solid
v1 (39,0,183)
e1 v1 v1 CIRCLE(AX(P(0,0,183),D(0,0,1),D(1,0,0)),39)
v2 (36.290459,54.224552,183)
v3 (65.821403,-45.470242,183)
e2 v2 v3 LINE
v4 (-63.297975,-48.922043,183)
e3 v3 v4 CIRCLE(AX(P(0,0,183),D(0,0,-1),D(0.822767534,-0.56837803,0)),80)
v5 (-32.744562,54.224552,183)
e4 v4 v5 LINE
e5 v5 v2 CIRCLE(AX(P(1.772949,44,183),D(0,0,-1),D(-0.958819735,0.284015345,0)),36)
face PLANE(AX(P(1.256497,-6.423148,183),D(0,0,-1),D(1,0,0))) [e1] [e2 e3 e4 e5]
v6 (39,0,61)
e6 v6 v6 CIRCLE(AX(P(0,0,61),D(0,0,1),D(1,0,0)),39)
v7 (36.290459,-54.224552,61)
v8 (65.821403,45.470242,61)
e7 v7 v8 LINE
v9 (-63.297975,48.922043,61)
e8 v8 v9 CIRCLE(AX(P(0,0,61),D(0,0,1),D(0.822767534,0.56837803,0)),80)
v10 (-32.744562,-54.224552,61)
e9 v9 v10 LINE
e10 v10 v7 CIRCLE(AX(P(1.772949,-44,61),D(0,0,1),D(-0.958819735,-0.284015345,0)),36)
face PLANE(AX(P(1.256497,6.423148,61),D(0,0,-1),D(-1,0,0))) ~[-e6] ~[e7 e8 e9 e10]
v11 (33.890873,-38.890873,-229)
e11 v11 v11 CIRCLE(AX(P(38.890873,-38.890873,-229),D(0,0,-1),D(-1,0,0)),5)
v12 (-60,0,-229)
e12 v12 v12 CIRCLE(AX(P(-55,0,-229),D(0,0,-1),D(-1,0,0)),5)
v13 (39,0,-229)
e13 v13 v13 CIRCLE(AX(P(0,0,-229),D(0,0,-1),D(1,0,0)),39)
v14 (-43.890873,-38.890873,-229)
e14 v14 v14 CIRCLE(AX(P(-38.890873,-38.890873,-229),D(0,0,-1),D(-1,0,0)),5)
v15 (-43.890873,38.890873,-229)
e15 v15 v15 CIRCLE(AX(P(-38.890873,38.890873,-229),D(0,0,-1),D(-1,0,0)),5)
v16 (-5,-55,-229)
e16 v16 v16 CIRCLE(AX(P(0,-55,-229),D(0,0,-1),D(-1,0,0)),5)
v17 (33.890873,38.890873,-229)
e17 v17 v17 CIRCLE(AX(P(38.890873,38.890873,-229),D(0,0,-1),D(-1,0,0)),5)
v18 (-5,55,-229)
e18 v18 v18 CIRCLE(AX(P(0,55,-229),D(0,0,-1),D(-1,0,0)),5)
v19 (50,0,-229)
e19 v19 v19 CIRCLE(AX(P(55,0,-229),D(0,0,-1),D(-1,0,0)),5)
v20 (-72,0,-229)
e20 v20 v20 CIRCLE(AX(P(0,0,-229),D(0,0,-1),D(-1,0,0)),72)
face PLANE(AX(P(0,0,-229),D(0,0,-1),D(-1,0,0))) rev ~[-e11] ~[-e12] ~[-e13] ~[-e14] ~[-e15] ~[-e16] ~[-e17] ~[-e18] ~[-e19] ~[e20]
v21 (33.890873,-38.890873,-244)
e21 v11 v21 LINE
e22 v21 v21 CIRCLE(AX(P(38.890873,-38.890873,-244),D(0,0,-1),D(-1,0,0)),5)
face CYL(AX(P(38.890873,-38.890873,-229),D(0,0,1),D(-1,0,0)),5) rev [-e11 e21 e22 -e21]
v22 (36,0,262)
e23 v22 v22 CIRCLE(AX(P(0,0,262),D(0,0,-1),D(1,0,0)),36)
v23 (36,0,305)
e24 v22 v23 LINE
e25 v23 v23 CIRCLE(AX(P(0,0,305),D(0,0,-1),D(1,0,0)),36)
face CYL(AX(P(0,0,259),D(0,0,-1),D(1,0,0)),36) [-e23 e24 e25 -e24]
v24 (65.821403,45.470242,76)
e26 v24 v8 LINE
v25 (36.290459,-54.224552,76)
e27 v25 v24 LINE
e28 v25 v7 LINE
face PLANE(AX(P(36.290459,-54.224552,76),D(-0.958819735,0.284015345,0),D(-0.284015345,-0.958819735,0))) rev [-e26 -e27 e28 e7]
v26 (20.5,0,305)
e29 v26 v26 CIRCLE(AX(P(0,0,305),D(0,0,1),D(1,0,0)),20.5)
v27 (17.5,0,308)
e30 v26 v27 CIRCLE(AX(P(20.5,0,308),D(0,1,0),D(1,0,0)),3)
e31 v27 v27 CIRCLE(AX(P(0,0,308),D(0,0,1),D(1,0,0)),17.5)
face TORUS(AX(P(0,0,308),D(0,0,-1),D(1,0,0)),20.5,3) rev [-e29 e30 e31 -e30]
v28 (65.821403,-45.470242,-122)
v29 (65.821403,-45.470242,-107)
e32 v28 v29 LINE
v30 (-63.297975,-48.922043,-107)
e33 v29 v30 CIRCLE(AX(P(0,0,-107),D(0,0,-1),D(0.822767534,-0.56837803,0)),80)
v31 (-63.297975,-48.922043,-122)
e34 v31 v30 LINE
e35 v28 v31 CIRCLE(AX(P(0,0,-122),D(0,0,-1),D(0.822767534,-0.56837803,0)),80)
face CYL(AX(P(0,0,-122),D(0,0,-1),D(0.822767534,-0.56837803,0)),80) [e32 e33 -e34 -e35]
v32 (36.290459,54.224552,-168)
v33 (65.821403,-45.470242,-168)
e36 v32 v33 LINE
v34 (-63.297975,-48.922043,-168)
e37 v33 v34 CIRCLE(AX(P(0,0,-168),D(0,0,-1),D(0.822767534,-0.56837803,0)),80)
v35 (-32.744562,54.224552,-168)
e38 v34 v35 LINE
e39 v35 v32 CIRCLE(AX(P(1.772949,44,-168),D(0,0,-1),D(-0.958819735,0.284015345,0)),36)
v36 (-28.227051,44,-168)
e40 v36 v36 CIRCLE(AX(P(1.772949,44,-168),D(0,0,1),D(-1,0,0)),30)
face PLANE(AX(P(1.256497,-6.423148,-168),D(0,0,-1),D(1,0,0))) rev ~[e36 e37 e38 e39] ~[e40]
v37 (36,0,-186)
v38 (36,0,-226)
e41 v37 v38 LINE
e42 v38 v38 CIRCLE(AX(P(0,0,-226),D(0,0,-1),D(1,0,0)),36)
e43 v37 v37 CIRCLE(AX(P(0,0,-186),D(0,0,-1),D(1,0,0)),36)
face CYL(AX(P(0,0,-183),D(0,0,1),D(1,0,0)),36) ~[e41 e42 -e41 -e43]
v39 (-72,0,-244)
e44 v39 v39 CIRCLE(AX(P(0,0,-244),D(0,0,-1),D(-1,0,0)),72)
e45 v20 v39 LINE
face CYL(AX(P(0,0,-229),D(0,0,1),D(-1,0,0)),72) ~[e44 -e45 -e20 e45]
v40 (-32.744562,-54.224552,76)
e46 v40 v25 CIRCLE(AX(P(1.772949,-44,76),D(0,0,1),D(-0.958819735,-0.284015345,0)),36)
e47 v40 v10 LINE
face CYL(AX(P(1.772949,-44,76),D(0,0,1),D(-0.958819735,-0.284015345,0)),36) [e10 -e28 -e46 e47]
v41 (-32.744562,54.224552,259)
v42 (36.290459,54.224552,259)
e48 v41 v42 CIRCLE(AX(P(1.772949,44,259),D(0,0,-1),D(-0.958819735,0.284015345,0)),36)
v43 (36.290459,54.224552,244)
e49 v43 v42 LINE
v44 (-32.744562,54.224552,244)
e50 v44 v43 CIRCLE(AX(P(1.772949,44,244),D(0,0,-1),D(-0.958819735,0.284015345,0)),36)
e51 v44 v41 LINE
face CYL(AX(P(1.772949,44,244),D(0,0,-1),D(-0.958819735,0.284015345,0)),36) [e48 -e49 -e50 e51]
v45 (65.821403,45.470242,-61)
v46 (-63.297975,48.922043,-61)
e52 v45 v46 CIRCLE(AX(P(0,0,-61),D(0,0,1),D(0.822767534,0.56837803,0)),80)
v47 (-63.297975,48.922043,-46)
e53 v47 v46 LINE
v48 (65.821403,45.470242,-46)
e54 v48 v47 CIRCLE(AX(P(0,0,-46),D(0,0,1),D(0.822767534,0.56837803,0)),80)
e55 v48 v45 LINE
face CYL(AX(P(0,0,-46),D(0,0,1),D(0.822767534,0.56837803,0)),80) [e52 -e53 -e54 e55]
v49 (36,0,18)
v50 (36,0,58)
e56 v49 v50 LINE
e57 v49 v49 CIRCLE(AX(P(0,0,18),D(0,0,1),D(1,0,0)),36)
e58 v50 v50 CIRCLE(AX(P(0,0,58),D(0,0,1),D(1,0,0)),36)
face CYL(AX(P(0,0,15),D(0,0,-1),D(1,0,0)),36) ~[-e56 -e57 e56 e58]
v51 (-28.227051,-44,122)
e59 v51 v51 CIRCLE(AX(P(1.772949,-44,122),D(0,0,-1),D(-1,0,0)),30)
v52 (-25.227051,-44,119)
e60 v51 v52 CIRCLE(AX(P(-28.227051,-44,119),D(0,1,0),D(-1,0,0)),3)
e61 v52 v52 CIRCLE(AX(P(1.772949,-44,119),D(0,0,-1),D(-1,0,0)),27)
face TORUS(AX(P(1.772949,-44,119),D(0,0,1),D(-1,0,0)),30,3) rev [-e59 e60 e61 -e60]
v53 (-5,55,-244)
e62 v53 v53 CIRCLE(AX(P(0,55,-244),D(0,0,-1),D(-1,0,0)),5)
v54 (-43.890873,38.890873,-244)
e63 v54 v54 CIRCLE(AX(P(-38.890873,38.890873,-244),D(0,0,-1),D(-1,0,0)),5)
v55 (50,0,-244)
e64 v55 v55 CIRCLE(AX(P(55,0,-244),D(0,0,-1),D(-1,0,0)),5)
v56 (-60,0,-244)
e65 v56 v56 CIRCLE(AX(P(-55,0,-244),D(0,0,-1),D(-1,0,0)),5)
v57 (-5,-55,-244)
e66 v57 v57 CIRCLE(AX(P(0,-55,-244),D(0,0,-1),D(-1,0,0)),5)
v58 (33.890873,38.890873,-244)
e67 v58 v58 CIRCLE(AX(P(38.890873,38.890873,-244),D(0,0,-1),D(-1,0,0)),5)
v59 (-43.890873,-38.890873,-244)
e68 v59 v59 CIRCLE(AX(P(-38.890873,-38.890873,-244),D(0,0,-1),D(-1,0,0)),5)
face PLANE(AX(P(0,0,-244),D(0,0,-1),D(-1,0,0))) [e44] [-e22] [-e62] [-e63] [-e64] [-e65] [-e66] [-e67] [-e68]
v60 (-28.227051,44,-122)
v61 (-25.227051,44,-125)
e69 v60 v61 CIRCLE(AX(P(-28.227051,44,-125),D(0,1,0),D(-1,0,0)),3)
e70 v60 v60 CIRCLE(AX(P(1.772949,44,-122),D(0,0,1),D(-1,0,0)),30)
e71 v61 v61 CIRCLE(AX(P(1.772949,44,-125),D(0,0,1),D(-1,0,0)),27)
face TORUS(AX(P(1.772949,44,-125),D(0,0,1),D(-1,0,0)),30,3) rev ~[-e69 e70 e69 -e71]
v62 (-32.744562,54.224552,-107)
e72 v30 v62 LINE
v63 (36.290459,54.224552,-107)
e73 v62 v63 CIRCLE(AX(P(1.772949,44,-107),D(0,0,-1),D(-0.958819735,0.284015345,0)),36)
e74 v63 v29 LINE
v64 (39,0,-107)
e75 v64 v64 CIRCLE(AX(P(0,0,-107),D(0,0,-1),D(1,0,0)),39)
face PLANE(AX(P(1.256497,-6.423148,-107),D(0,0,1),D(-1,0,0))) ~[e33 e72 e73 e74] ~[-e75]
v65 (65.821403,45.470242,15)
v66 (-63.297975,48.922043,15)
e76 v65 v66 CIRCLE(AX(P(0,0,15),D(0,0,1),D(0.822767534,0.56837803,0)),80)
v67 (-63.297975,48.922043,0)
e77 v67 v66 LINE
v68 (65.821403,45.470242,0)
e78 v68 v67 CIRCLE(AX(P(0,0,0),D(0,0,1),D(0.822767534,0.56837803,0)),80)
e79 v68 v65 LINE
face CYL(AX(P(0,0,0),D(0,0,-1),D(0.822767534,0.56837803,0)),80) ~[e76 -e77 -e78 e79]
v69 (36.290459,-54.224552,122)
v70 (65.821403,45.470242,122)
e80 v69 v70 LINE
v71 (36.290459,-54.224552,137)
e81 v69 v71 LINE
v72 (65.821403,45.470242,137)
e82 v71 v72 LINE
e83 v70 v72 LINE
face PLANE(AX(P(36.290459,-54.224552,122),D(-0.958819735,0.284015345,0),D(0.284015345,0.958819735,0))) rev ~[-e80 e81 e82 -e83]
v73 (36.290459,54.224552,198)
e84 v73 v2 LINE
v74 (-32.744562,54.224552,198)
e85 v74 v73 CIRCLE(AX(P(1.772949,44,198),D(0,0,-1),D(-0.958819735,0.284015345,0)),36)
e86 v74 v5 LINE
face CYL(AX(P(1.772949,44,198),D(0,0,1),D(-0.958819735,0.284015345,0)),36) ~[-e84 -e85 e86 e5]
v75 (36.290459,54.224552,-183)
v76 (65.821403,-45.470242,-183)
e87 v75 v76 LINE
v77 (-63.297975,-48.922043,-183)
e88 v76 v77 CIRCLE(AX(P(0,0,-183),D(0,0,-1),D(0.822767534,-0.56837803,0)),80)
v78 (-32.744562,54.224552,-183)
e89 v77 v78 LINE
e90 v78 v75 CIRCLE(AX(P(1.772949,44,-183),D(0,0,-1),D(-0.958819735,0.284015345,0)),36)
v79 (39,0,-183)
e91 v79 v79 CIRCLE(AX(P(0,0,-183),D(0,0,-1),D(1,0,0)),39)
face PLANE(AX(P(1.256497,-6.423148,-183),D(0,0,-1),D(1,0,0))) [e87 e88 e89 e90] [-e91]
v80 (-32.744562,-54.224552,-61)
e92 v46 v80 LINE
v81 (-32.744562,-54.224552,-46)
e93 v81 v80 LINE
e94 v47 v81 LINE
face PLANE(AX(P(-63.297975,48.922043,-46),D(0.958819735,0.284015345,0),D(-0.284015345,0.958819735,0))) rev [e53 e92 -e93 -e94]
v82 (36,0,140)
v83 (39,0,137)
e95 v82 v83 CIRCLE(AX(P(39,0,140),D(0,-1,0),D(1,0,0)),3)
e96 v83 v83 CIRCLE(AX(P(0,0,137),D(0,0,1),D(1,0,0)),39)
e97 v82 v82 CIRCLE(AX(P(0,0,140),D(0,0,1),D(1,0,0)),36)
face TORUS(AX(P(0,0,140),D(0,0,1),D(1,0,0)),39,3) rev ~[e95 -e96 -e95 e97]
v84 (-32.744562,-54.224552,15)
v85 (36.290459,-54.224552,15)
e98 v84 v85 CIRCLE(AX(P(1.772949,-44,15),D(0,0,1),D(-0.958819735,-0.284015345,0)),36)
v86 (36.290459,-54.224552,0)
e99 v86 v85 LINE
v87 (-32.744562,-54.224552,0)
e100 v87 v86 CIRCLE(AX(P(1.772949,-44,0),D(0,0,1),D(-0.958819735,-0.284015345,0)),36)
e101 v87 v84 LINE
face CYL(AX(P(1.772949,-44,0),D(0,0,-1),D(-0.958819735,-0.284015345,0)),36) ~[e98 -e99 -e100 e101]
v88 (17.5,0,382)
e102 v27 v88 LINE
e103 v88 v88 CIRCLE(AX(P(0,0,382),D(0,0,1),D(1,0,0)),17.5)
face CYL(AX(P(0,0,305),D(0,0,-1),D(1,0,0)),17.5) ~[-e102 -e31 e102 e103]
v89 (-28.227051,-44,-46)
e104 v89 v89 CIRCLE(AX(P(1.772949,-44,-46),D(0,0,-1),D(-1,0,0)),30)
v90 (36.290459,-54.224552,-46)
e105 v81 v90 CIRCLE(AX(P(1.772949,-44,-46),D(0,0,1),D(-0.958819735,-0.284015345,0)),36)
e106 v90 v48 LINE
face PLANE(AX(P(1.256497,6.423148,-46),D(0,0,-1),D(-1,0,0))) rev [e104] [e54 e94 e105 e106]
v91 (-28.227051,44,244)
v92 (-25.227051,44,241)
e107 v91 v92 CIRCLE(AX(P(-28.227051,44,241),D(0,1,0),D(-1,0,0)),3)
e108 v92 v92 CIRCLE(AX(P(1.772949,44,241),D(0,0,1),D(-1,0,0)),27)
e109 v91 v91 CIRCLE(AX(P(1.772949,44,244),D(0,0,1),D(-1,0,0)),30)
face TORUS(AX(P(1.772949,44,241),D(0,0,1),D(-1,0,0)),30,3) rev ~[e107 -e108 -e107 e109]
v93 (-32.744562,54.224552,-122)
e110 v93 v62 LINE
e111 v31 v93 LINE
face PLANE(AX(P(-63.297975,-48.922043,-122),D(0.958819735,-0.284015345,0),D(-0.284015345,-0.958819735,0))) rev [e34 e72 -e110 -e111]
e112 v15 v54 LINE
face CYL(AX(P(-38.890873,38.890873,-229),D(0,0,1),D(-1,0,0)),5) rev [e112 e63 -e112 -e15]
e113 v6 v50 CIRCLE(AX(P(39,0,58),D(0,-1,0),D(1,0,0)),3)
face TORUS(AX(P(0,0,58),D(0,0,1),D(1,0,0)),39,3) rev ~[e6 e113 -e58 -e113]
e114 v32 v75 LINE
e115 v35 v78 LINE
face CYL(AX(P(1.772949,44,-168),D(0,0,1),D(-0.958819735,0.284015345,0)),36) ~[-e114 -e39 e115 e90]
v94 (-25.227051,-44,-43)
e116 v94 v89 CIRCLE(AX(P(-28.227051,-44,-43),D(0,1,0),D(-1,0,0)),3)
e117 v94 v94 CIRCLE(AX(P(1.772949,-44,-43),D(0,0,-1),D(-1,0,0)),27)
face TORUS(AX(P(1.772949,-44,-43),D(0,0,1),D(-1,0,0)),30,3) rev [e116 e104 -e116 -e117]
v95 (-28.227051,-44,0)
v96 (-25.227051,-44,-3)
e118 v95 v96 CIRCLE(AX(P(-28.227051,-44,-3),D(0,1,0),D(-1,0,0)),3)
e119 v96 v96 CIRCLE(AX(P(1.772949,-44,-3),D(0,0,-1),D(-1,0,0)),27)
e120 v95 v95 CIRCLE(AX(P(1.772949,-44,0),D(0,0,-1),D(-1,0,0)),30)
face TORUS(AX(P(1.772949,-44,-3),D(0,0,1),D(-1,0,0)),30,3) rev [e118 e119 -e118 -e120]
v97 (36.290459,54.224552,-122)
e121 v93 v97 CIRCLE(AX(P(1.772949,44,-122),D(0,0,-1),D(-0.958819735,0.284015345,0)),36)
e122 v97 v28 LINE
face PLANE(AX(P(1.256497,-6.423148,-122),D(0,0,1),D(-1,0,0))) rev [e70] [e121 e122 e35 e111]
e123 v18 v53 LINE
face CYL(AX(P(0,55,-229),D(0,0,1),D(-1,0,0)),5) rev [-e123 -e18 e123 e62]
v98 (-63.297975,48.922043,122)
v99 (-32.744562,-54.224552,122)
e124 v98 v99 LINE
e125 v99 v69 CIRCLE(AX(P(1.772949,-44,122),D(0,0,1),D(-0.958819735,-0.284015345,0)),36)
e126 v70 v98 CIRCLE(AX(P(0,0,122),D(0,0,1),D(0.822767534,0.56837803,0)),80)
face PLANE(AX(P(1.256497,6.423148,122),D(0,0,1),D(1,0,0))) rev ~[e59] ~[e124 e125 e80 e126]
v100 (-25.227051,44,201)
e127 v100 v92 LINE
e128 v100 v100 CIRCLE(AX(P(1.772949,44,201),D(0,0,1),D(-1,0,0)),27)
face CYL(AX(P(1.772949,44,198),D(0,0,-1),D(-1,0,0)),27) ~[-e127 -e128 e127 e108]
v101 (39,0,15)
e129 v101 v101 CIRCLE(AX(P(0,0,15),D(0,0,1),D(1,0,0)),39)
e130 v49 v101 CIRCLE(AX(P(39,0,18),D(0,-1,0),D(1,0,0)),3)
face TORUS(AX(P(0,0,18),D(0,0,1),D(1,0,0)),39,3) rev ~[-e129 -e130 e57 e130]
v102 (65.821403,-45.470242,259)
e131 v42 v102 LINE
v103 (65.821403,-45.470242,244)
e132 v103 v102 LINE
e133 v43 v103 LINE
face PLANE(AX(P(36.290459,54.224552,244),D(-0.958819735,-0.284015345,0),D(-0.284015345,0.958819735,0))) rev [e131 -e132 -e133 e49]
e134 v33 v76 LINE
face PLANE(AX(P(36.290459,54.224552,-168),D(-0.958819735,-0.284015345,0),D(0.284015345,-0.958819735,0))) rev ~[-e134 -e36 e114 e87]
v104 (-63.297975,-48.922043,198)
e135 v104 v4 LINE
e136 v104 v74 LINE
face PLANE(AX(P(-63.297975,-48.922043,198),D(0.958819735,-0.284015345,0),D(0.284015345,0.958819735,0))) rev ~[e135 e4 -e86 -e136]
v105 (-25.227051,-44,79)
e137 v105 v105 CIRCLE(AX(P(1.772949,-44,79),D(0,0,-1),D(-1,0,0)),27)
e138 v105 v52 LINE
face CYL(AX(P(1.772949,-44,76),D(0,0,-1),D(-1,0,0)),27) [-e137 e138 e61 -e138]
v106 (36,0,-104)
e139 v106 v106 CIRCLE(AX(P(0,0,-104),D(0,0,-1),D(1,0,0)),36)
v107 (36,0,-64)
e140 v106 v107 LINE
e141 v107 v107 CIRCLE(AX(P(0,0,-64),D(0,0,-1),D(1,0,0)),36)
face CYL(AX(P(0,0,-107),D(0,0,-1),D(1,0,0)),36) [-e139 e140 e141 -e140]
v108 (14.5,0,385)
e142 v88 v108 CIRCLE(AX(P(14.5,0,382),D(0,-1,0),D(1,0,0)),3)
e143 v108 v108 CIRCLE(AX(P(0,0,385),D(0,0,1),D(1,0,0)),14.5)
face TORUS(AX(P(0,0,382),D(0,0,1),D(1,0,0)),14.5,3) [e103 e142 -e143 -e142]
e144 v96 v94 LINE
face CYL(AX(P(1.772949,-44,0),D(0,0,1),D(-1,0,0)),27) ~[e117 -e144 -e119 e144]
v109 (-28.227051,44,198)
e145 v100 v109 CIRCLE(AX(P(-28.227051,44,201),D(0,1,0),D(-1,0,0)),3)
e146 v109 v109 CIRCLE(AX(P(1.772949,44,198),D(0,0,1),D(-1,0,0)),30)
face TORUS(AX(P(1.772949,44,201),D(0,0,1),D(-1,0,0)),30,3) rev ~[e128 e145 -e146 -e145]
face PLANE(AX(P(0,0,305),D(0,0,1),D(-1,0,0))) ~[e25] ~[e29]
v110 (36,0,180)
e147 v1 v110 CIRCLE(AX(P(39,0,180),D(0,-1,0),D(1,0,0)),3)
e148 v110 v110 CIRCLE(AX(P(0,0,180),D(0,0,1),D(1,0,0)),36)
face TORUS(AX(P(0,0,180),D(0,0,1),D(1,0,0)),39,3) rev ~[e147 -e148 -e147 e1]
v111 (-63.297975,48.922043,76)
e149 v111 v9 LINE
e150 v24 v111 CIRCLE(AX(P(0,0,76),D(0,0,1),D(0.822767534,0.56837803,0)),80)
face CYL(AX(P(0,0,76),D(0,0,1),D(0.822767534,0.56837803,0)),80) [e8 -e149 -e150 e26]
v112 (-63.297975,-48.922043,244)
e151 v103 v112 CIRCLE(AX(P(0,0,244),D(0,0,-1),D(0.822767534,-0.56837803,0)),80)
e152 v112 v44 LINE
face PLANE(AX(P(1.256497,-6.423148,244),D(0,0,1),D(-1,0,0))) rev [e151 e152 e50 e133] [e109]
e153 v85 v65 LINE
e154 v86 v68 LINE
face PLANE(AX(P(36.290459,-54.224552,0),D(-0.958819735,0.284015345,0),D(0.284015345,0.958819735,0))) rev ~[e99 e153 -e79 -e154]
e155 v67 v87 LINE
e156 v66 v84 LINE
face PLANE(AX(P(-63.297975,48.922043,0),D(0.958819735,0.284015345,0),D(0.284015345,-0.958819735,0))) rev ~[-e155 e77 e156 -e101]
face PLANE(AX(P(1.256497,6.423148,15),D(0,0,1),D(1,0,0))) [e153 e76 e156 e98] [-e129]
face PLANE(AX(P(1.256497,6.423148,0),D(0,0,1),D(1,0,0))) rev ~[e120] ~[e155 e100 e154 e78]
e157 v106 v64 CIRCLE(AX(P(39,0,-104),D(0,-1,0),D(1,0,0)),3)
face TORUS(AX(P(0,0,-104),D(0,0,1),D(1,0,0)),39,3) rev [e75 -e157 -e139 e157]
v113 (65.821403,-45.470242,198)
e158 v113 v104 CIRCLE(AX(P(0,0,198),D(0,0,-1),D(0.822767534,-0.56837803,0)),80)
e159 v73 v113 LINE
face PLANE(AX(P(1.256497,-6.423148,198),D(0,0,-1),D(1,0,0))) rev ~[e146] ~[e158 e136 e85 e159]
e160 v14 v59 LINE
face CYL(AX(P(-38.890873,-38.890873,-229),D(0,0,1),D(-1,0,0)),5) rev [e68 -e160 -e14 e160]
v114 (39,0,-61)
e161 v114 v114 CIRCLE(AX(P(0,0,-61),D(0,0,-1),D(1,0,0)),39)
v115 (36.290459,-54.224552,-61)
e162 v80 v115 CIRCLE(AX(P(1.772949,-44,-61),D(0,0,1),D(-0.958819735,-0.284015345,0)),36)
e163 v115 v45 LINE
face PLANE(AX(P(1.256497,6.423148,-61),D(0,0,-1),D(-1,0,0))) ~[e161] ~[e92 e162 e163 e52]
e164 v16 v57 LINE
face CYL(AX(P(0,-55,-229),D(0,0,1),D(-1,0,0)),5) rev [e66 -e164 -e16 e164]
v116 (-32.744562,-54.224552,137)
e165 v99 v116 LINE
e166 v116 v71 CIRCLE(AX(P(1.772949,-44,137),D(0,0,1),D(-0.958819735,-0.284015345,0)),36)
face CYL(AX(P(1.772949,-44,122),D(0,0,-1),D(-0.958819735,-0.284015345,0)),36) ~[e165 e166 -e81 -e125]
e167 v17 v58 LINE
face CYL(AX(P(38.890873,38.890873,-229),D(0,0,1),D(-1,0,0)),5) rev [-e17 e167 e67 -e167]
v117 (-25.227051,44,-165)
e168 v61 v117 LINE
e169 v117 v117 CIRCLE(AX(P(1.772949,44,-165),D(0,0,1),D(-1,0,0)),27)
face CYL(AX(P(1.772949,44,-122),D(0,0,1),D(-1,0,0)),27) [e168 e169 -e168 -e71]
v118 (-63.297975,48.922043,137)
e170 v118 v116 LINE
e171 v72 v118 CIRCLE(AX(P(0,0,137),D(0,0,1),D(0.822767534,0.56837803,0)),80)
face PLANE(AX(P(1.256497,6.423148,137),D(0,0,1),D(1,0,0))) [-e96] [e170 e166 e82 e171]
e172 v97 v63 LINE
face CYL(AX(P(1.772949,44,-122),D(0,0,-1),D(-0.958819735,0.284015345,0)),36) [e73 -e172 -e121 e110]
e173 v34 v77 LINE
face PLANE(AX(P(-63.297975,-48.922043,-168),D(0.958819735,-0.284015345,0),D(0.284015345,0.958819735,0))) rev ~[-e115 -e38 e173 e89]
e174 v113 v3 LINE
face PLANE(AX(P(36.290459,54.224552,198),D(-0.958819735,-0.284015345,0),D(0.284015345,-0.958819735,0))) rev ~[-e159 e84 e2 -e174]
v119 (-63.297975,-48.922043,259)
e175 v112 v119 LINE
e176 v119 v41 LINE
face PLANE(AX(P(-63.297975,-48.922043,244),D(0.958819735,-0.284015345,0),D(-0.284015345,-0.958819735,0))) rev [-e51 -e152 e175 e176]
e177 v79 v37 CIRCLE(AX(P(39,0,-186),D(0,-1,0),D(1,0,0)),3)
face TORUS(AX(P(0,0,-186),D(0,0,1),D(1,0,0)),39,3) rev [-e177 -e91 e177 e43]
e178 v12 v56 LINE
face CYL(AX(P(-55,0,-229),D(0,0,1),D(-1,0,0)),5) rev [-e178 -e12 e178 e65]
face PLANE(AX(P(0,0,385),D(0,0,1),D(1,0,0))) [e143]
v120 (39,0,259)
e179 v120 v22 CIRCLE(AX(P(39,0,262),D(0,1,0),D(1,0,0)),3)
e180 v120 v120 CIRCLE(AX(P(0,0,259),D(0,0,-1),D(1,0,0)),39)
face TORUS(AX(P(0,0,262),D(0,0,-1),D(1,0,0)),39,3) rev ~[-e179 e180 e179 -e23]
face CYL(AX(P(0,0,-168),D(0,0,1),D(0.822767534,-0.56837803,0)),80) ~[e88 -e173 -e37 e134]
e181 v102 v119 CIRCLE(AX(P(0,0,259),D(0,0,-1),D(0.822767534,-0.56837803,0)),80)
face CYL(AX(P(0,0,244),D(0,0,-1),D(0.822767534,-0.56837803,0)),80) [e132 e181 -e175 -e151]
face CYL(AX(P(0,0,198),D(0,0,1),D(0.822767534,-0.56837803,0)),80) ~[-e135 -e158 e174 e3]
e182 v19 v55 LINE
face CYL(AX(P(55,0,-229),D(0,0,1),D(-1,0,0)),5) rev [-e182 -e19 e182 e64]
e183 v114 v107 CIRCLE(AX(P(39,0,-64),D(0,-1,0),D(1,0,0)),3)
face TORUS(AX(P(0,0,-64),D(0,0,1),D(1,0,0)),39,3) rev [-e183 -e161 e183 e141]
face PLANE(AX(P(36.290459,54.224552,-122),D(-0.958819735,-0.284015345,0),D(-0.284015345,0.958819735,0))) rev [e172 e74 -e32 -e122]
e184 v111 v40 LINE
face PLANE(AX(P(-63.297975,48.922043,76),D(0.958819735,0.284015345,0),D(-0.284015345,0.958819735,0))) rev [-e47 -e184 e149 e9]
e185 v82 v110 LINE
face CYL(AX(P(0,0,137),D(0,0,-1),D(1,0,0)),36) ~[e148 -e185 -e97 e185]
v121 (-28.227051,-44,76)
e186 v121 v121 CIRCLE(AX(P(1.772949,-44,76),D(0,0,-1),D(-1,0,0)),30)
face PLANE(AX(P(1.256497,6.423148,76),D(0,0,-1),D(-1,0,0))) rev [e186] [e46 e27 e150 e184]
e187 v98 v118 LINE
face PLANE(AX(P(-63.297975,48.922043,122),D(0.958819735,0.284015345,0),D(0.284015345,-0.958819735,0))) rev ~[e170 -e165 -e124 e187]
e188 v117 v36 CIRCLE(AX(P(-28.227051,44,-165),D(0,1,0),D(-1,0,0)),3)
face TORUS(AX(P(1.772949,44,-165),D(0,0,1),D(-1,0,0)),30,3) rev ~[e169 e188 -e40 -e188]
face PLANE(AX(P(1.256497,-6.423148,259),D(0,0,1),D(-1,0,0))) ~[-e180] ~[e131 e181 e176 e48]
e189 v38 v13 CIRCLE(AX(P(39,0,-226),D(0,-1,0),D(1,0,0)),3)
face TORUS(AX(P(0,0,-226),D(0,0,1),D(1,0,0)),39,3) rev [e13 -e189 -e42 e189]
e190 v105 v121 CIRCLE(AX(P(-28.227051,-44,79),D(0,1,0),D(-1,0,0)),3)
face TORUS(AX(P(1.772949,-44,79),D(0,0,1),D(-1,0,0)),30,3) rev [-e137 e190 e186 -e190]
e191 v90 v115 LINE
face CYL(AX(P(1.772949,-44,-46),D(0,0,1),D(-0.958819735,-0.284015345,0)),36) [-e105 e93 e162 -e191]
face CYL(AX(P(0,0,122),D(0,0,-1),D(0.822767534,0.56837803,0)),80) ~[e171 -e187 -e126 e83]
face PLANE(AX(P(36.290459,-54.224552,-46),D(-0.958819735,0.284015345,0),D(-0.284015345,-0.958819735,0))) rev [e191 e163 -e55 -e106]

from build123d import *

# Parameters (mm, degrees)
BOSS_EXTRUDE1_DEPTH   = 15
SKETCH3_R             = 27
BOSS_EXTRUDE2_DEPTH   = 46
SKETCH5_R             = 36
BOSS_EXTRUDE3_DEPTH   = 46
BODY_MOVE_COPY1_ANGLE = 180
SKETCH7_R             = 17.5
BOSS_EXTRUDE4_DEPTH   = 80
SKETCH8_R             = 72
SKETCH8_R_2           = 5
BOSS_EXTRUDE6_DEPTH   = 15
FILLET1_R             = 3


with BuildPart() as part:
    # Sketch1 → Boss-Extrude1 (new body)
    with BuildSketch(Plane.XY):
        with BuildLine():
            Line((-63.297975399, 48.922043195), (-32.744561821, -54.224552409))
            ThreePointArc((-32.744561821, -54.224552409), (1.772948634, -80), (36.290459089, -54.224552409))
            Line((36.290459089, -54.224552409), (65.821402699, 45.470242432))
            ThreePointArc((65.821402699, 45.470242432), (2.137908666, 79.971428314), (-63.297975399, 48.922043195))
        make_face()
    extrude(amount=BOSS_EXTRUDE1_DEPTH)

    # Sketch3 → Boss-Extrude2 (add)
    with BuildSketch(Plane(origin=(0, 0, 0), x_dir=(-1, 0, 0), z_dir=(0, 0, -1))):
        with Locations((-1.772948634, -44)):
            Circle(SKETCH3_R)
    extrude(amount=BOSS_EXTRUDE2_DEPTH)

    # Sketch5 → Boss-Extrude3 (add)
    with BuildSketch(Plane.XY.offset(15)):
        Circle(SKETCH5_R)
    extrude(amount=BOSS_EXTRUDE3_DEPTH)

    # Mirror1: part across plane


with BuildPart() as part_1:
    add(part.part)
    add(part.part.mirror(Plane(origin=(0, 0, -23), x_dir=(1, 0, 0), z_dir=(0, 0, -1))))


with BuildPart() as body_2:
    # Mirror2: mirrored copy
    add(part_1.part.mirror(Plane(origin=(0, 0, -84), x_dir=(1, 0, 0), z_dir=(0, 0, -1))))


with BuildPart() as body_2_1:
    # Body-Move/Copy1: moved
    add(body_2.part.rotate(Axis((0, 0, -145), (1, 0, 0)), BODY_MOVE_COPY1_ANGLE))


with BuildPart() as body_3:
    # Mirror3: mirrored copy
    add(body_2_1.part.mirror(Plane.XY.offset(38)))

    # Sketch7 → Boss-Extrude4 (add)
    with BuildSketch(Plane.XY.offset(305)):
        Circle(SKETCH7_R)
    extrude(amount=BOSS_EXTRUDE4_DEPTH)


with BuildPart() as body_4:
    # Mirror3 2: mirrored copy
    add(part_1.part.mirror(Plane.XY.offset(38)))


with BuildPart() as body_2_2:
    add(body_2_1.part)

    # Sketch8 → Boss-Extrude6 (add)
    with BuildSketch(Plane(origin=(0, 0, -229), x_dir=(-1, 0, 0), z_dir=(0, 0, -1))):
        Circle(SKETCH8_R)
        with Locations((0, 55)):
            Circle(SKETCH8_R_2, mode=Mode.SUBTRACT)
        with Locations((38.890872965, 38.890872965)):
            Circle(SKETCH8_R_2, mode=Mode.SUBTRACT)
        with Locations((55, 0)):
            Circle(SKETCH8_R_2, mode=Mode.SUBTRACT)
        with Locations((38.890872965, -38.890872965)):
            Circle(SKETCH8_R_2, mode=Mode.SUBTRACT)
        with Locations((0, -55)):
            Circle(SKETCH8_R_2, mode=Mode.SUBTRACT)
        with Locations((-38.890872965, -38.890872965)):
            Circle(SKETCH8_R_2, mode=Mode.SUBTRACT)
        with Locations((-55, 0)):
            Circle(SKETCH8_R_2, mode=Mode.SUBTRACT)
        with Locations((-38.890872965, 38.890872965)):
            Circle(SKETCH8_R_2, mode=Mode.SUBTRACT)
    extrude(amount=BOSS_EXTRUDE6_DEPTH)

    # Combine1: union part, body 4, body 3
    add(part_1.part)
    add(body_4.part)
    add(body_3.part)

    # Fillet1
    fillet1_edges = [body_2_2.edges().sort_by_distance(p)[0] for p in [
        (28.772948634, 44, -122),
        (28.772948634, 44, -168),
        (-36, 0, -107),
        (-36, 0, -183),
        (-36, 0, -229),
        (28.772948634, -44, 0),
        (-36, 0, 15),
        (-36, 0, -61),
        (28.772948634, -44, -46),
        (-36, 0, 61),
        (28.772948634, -44, 76),
        (28.772948634, -44, 122),
        (-36, 0, 137),
        (-36, 0, 183),
        (28.772948634, 44, 198),
        (-36, 0, 259),
        (28.772948634, 44, 244),
        (-17.5, 0, 305),
        (-17.5, 0, 385),
    ]]
    fillet(fillet1_edges, radius=FILLET1_R)


solid = body_2_2.part
